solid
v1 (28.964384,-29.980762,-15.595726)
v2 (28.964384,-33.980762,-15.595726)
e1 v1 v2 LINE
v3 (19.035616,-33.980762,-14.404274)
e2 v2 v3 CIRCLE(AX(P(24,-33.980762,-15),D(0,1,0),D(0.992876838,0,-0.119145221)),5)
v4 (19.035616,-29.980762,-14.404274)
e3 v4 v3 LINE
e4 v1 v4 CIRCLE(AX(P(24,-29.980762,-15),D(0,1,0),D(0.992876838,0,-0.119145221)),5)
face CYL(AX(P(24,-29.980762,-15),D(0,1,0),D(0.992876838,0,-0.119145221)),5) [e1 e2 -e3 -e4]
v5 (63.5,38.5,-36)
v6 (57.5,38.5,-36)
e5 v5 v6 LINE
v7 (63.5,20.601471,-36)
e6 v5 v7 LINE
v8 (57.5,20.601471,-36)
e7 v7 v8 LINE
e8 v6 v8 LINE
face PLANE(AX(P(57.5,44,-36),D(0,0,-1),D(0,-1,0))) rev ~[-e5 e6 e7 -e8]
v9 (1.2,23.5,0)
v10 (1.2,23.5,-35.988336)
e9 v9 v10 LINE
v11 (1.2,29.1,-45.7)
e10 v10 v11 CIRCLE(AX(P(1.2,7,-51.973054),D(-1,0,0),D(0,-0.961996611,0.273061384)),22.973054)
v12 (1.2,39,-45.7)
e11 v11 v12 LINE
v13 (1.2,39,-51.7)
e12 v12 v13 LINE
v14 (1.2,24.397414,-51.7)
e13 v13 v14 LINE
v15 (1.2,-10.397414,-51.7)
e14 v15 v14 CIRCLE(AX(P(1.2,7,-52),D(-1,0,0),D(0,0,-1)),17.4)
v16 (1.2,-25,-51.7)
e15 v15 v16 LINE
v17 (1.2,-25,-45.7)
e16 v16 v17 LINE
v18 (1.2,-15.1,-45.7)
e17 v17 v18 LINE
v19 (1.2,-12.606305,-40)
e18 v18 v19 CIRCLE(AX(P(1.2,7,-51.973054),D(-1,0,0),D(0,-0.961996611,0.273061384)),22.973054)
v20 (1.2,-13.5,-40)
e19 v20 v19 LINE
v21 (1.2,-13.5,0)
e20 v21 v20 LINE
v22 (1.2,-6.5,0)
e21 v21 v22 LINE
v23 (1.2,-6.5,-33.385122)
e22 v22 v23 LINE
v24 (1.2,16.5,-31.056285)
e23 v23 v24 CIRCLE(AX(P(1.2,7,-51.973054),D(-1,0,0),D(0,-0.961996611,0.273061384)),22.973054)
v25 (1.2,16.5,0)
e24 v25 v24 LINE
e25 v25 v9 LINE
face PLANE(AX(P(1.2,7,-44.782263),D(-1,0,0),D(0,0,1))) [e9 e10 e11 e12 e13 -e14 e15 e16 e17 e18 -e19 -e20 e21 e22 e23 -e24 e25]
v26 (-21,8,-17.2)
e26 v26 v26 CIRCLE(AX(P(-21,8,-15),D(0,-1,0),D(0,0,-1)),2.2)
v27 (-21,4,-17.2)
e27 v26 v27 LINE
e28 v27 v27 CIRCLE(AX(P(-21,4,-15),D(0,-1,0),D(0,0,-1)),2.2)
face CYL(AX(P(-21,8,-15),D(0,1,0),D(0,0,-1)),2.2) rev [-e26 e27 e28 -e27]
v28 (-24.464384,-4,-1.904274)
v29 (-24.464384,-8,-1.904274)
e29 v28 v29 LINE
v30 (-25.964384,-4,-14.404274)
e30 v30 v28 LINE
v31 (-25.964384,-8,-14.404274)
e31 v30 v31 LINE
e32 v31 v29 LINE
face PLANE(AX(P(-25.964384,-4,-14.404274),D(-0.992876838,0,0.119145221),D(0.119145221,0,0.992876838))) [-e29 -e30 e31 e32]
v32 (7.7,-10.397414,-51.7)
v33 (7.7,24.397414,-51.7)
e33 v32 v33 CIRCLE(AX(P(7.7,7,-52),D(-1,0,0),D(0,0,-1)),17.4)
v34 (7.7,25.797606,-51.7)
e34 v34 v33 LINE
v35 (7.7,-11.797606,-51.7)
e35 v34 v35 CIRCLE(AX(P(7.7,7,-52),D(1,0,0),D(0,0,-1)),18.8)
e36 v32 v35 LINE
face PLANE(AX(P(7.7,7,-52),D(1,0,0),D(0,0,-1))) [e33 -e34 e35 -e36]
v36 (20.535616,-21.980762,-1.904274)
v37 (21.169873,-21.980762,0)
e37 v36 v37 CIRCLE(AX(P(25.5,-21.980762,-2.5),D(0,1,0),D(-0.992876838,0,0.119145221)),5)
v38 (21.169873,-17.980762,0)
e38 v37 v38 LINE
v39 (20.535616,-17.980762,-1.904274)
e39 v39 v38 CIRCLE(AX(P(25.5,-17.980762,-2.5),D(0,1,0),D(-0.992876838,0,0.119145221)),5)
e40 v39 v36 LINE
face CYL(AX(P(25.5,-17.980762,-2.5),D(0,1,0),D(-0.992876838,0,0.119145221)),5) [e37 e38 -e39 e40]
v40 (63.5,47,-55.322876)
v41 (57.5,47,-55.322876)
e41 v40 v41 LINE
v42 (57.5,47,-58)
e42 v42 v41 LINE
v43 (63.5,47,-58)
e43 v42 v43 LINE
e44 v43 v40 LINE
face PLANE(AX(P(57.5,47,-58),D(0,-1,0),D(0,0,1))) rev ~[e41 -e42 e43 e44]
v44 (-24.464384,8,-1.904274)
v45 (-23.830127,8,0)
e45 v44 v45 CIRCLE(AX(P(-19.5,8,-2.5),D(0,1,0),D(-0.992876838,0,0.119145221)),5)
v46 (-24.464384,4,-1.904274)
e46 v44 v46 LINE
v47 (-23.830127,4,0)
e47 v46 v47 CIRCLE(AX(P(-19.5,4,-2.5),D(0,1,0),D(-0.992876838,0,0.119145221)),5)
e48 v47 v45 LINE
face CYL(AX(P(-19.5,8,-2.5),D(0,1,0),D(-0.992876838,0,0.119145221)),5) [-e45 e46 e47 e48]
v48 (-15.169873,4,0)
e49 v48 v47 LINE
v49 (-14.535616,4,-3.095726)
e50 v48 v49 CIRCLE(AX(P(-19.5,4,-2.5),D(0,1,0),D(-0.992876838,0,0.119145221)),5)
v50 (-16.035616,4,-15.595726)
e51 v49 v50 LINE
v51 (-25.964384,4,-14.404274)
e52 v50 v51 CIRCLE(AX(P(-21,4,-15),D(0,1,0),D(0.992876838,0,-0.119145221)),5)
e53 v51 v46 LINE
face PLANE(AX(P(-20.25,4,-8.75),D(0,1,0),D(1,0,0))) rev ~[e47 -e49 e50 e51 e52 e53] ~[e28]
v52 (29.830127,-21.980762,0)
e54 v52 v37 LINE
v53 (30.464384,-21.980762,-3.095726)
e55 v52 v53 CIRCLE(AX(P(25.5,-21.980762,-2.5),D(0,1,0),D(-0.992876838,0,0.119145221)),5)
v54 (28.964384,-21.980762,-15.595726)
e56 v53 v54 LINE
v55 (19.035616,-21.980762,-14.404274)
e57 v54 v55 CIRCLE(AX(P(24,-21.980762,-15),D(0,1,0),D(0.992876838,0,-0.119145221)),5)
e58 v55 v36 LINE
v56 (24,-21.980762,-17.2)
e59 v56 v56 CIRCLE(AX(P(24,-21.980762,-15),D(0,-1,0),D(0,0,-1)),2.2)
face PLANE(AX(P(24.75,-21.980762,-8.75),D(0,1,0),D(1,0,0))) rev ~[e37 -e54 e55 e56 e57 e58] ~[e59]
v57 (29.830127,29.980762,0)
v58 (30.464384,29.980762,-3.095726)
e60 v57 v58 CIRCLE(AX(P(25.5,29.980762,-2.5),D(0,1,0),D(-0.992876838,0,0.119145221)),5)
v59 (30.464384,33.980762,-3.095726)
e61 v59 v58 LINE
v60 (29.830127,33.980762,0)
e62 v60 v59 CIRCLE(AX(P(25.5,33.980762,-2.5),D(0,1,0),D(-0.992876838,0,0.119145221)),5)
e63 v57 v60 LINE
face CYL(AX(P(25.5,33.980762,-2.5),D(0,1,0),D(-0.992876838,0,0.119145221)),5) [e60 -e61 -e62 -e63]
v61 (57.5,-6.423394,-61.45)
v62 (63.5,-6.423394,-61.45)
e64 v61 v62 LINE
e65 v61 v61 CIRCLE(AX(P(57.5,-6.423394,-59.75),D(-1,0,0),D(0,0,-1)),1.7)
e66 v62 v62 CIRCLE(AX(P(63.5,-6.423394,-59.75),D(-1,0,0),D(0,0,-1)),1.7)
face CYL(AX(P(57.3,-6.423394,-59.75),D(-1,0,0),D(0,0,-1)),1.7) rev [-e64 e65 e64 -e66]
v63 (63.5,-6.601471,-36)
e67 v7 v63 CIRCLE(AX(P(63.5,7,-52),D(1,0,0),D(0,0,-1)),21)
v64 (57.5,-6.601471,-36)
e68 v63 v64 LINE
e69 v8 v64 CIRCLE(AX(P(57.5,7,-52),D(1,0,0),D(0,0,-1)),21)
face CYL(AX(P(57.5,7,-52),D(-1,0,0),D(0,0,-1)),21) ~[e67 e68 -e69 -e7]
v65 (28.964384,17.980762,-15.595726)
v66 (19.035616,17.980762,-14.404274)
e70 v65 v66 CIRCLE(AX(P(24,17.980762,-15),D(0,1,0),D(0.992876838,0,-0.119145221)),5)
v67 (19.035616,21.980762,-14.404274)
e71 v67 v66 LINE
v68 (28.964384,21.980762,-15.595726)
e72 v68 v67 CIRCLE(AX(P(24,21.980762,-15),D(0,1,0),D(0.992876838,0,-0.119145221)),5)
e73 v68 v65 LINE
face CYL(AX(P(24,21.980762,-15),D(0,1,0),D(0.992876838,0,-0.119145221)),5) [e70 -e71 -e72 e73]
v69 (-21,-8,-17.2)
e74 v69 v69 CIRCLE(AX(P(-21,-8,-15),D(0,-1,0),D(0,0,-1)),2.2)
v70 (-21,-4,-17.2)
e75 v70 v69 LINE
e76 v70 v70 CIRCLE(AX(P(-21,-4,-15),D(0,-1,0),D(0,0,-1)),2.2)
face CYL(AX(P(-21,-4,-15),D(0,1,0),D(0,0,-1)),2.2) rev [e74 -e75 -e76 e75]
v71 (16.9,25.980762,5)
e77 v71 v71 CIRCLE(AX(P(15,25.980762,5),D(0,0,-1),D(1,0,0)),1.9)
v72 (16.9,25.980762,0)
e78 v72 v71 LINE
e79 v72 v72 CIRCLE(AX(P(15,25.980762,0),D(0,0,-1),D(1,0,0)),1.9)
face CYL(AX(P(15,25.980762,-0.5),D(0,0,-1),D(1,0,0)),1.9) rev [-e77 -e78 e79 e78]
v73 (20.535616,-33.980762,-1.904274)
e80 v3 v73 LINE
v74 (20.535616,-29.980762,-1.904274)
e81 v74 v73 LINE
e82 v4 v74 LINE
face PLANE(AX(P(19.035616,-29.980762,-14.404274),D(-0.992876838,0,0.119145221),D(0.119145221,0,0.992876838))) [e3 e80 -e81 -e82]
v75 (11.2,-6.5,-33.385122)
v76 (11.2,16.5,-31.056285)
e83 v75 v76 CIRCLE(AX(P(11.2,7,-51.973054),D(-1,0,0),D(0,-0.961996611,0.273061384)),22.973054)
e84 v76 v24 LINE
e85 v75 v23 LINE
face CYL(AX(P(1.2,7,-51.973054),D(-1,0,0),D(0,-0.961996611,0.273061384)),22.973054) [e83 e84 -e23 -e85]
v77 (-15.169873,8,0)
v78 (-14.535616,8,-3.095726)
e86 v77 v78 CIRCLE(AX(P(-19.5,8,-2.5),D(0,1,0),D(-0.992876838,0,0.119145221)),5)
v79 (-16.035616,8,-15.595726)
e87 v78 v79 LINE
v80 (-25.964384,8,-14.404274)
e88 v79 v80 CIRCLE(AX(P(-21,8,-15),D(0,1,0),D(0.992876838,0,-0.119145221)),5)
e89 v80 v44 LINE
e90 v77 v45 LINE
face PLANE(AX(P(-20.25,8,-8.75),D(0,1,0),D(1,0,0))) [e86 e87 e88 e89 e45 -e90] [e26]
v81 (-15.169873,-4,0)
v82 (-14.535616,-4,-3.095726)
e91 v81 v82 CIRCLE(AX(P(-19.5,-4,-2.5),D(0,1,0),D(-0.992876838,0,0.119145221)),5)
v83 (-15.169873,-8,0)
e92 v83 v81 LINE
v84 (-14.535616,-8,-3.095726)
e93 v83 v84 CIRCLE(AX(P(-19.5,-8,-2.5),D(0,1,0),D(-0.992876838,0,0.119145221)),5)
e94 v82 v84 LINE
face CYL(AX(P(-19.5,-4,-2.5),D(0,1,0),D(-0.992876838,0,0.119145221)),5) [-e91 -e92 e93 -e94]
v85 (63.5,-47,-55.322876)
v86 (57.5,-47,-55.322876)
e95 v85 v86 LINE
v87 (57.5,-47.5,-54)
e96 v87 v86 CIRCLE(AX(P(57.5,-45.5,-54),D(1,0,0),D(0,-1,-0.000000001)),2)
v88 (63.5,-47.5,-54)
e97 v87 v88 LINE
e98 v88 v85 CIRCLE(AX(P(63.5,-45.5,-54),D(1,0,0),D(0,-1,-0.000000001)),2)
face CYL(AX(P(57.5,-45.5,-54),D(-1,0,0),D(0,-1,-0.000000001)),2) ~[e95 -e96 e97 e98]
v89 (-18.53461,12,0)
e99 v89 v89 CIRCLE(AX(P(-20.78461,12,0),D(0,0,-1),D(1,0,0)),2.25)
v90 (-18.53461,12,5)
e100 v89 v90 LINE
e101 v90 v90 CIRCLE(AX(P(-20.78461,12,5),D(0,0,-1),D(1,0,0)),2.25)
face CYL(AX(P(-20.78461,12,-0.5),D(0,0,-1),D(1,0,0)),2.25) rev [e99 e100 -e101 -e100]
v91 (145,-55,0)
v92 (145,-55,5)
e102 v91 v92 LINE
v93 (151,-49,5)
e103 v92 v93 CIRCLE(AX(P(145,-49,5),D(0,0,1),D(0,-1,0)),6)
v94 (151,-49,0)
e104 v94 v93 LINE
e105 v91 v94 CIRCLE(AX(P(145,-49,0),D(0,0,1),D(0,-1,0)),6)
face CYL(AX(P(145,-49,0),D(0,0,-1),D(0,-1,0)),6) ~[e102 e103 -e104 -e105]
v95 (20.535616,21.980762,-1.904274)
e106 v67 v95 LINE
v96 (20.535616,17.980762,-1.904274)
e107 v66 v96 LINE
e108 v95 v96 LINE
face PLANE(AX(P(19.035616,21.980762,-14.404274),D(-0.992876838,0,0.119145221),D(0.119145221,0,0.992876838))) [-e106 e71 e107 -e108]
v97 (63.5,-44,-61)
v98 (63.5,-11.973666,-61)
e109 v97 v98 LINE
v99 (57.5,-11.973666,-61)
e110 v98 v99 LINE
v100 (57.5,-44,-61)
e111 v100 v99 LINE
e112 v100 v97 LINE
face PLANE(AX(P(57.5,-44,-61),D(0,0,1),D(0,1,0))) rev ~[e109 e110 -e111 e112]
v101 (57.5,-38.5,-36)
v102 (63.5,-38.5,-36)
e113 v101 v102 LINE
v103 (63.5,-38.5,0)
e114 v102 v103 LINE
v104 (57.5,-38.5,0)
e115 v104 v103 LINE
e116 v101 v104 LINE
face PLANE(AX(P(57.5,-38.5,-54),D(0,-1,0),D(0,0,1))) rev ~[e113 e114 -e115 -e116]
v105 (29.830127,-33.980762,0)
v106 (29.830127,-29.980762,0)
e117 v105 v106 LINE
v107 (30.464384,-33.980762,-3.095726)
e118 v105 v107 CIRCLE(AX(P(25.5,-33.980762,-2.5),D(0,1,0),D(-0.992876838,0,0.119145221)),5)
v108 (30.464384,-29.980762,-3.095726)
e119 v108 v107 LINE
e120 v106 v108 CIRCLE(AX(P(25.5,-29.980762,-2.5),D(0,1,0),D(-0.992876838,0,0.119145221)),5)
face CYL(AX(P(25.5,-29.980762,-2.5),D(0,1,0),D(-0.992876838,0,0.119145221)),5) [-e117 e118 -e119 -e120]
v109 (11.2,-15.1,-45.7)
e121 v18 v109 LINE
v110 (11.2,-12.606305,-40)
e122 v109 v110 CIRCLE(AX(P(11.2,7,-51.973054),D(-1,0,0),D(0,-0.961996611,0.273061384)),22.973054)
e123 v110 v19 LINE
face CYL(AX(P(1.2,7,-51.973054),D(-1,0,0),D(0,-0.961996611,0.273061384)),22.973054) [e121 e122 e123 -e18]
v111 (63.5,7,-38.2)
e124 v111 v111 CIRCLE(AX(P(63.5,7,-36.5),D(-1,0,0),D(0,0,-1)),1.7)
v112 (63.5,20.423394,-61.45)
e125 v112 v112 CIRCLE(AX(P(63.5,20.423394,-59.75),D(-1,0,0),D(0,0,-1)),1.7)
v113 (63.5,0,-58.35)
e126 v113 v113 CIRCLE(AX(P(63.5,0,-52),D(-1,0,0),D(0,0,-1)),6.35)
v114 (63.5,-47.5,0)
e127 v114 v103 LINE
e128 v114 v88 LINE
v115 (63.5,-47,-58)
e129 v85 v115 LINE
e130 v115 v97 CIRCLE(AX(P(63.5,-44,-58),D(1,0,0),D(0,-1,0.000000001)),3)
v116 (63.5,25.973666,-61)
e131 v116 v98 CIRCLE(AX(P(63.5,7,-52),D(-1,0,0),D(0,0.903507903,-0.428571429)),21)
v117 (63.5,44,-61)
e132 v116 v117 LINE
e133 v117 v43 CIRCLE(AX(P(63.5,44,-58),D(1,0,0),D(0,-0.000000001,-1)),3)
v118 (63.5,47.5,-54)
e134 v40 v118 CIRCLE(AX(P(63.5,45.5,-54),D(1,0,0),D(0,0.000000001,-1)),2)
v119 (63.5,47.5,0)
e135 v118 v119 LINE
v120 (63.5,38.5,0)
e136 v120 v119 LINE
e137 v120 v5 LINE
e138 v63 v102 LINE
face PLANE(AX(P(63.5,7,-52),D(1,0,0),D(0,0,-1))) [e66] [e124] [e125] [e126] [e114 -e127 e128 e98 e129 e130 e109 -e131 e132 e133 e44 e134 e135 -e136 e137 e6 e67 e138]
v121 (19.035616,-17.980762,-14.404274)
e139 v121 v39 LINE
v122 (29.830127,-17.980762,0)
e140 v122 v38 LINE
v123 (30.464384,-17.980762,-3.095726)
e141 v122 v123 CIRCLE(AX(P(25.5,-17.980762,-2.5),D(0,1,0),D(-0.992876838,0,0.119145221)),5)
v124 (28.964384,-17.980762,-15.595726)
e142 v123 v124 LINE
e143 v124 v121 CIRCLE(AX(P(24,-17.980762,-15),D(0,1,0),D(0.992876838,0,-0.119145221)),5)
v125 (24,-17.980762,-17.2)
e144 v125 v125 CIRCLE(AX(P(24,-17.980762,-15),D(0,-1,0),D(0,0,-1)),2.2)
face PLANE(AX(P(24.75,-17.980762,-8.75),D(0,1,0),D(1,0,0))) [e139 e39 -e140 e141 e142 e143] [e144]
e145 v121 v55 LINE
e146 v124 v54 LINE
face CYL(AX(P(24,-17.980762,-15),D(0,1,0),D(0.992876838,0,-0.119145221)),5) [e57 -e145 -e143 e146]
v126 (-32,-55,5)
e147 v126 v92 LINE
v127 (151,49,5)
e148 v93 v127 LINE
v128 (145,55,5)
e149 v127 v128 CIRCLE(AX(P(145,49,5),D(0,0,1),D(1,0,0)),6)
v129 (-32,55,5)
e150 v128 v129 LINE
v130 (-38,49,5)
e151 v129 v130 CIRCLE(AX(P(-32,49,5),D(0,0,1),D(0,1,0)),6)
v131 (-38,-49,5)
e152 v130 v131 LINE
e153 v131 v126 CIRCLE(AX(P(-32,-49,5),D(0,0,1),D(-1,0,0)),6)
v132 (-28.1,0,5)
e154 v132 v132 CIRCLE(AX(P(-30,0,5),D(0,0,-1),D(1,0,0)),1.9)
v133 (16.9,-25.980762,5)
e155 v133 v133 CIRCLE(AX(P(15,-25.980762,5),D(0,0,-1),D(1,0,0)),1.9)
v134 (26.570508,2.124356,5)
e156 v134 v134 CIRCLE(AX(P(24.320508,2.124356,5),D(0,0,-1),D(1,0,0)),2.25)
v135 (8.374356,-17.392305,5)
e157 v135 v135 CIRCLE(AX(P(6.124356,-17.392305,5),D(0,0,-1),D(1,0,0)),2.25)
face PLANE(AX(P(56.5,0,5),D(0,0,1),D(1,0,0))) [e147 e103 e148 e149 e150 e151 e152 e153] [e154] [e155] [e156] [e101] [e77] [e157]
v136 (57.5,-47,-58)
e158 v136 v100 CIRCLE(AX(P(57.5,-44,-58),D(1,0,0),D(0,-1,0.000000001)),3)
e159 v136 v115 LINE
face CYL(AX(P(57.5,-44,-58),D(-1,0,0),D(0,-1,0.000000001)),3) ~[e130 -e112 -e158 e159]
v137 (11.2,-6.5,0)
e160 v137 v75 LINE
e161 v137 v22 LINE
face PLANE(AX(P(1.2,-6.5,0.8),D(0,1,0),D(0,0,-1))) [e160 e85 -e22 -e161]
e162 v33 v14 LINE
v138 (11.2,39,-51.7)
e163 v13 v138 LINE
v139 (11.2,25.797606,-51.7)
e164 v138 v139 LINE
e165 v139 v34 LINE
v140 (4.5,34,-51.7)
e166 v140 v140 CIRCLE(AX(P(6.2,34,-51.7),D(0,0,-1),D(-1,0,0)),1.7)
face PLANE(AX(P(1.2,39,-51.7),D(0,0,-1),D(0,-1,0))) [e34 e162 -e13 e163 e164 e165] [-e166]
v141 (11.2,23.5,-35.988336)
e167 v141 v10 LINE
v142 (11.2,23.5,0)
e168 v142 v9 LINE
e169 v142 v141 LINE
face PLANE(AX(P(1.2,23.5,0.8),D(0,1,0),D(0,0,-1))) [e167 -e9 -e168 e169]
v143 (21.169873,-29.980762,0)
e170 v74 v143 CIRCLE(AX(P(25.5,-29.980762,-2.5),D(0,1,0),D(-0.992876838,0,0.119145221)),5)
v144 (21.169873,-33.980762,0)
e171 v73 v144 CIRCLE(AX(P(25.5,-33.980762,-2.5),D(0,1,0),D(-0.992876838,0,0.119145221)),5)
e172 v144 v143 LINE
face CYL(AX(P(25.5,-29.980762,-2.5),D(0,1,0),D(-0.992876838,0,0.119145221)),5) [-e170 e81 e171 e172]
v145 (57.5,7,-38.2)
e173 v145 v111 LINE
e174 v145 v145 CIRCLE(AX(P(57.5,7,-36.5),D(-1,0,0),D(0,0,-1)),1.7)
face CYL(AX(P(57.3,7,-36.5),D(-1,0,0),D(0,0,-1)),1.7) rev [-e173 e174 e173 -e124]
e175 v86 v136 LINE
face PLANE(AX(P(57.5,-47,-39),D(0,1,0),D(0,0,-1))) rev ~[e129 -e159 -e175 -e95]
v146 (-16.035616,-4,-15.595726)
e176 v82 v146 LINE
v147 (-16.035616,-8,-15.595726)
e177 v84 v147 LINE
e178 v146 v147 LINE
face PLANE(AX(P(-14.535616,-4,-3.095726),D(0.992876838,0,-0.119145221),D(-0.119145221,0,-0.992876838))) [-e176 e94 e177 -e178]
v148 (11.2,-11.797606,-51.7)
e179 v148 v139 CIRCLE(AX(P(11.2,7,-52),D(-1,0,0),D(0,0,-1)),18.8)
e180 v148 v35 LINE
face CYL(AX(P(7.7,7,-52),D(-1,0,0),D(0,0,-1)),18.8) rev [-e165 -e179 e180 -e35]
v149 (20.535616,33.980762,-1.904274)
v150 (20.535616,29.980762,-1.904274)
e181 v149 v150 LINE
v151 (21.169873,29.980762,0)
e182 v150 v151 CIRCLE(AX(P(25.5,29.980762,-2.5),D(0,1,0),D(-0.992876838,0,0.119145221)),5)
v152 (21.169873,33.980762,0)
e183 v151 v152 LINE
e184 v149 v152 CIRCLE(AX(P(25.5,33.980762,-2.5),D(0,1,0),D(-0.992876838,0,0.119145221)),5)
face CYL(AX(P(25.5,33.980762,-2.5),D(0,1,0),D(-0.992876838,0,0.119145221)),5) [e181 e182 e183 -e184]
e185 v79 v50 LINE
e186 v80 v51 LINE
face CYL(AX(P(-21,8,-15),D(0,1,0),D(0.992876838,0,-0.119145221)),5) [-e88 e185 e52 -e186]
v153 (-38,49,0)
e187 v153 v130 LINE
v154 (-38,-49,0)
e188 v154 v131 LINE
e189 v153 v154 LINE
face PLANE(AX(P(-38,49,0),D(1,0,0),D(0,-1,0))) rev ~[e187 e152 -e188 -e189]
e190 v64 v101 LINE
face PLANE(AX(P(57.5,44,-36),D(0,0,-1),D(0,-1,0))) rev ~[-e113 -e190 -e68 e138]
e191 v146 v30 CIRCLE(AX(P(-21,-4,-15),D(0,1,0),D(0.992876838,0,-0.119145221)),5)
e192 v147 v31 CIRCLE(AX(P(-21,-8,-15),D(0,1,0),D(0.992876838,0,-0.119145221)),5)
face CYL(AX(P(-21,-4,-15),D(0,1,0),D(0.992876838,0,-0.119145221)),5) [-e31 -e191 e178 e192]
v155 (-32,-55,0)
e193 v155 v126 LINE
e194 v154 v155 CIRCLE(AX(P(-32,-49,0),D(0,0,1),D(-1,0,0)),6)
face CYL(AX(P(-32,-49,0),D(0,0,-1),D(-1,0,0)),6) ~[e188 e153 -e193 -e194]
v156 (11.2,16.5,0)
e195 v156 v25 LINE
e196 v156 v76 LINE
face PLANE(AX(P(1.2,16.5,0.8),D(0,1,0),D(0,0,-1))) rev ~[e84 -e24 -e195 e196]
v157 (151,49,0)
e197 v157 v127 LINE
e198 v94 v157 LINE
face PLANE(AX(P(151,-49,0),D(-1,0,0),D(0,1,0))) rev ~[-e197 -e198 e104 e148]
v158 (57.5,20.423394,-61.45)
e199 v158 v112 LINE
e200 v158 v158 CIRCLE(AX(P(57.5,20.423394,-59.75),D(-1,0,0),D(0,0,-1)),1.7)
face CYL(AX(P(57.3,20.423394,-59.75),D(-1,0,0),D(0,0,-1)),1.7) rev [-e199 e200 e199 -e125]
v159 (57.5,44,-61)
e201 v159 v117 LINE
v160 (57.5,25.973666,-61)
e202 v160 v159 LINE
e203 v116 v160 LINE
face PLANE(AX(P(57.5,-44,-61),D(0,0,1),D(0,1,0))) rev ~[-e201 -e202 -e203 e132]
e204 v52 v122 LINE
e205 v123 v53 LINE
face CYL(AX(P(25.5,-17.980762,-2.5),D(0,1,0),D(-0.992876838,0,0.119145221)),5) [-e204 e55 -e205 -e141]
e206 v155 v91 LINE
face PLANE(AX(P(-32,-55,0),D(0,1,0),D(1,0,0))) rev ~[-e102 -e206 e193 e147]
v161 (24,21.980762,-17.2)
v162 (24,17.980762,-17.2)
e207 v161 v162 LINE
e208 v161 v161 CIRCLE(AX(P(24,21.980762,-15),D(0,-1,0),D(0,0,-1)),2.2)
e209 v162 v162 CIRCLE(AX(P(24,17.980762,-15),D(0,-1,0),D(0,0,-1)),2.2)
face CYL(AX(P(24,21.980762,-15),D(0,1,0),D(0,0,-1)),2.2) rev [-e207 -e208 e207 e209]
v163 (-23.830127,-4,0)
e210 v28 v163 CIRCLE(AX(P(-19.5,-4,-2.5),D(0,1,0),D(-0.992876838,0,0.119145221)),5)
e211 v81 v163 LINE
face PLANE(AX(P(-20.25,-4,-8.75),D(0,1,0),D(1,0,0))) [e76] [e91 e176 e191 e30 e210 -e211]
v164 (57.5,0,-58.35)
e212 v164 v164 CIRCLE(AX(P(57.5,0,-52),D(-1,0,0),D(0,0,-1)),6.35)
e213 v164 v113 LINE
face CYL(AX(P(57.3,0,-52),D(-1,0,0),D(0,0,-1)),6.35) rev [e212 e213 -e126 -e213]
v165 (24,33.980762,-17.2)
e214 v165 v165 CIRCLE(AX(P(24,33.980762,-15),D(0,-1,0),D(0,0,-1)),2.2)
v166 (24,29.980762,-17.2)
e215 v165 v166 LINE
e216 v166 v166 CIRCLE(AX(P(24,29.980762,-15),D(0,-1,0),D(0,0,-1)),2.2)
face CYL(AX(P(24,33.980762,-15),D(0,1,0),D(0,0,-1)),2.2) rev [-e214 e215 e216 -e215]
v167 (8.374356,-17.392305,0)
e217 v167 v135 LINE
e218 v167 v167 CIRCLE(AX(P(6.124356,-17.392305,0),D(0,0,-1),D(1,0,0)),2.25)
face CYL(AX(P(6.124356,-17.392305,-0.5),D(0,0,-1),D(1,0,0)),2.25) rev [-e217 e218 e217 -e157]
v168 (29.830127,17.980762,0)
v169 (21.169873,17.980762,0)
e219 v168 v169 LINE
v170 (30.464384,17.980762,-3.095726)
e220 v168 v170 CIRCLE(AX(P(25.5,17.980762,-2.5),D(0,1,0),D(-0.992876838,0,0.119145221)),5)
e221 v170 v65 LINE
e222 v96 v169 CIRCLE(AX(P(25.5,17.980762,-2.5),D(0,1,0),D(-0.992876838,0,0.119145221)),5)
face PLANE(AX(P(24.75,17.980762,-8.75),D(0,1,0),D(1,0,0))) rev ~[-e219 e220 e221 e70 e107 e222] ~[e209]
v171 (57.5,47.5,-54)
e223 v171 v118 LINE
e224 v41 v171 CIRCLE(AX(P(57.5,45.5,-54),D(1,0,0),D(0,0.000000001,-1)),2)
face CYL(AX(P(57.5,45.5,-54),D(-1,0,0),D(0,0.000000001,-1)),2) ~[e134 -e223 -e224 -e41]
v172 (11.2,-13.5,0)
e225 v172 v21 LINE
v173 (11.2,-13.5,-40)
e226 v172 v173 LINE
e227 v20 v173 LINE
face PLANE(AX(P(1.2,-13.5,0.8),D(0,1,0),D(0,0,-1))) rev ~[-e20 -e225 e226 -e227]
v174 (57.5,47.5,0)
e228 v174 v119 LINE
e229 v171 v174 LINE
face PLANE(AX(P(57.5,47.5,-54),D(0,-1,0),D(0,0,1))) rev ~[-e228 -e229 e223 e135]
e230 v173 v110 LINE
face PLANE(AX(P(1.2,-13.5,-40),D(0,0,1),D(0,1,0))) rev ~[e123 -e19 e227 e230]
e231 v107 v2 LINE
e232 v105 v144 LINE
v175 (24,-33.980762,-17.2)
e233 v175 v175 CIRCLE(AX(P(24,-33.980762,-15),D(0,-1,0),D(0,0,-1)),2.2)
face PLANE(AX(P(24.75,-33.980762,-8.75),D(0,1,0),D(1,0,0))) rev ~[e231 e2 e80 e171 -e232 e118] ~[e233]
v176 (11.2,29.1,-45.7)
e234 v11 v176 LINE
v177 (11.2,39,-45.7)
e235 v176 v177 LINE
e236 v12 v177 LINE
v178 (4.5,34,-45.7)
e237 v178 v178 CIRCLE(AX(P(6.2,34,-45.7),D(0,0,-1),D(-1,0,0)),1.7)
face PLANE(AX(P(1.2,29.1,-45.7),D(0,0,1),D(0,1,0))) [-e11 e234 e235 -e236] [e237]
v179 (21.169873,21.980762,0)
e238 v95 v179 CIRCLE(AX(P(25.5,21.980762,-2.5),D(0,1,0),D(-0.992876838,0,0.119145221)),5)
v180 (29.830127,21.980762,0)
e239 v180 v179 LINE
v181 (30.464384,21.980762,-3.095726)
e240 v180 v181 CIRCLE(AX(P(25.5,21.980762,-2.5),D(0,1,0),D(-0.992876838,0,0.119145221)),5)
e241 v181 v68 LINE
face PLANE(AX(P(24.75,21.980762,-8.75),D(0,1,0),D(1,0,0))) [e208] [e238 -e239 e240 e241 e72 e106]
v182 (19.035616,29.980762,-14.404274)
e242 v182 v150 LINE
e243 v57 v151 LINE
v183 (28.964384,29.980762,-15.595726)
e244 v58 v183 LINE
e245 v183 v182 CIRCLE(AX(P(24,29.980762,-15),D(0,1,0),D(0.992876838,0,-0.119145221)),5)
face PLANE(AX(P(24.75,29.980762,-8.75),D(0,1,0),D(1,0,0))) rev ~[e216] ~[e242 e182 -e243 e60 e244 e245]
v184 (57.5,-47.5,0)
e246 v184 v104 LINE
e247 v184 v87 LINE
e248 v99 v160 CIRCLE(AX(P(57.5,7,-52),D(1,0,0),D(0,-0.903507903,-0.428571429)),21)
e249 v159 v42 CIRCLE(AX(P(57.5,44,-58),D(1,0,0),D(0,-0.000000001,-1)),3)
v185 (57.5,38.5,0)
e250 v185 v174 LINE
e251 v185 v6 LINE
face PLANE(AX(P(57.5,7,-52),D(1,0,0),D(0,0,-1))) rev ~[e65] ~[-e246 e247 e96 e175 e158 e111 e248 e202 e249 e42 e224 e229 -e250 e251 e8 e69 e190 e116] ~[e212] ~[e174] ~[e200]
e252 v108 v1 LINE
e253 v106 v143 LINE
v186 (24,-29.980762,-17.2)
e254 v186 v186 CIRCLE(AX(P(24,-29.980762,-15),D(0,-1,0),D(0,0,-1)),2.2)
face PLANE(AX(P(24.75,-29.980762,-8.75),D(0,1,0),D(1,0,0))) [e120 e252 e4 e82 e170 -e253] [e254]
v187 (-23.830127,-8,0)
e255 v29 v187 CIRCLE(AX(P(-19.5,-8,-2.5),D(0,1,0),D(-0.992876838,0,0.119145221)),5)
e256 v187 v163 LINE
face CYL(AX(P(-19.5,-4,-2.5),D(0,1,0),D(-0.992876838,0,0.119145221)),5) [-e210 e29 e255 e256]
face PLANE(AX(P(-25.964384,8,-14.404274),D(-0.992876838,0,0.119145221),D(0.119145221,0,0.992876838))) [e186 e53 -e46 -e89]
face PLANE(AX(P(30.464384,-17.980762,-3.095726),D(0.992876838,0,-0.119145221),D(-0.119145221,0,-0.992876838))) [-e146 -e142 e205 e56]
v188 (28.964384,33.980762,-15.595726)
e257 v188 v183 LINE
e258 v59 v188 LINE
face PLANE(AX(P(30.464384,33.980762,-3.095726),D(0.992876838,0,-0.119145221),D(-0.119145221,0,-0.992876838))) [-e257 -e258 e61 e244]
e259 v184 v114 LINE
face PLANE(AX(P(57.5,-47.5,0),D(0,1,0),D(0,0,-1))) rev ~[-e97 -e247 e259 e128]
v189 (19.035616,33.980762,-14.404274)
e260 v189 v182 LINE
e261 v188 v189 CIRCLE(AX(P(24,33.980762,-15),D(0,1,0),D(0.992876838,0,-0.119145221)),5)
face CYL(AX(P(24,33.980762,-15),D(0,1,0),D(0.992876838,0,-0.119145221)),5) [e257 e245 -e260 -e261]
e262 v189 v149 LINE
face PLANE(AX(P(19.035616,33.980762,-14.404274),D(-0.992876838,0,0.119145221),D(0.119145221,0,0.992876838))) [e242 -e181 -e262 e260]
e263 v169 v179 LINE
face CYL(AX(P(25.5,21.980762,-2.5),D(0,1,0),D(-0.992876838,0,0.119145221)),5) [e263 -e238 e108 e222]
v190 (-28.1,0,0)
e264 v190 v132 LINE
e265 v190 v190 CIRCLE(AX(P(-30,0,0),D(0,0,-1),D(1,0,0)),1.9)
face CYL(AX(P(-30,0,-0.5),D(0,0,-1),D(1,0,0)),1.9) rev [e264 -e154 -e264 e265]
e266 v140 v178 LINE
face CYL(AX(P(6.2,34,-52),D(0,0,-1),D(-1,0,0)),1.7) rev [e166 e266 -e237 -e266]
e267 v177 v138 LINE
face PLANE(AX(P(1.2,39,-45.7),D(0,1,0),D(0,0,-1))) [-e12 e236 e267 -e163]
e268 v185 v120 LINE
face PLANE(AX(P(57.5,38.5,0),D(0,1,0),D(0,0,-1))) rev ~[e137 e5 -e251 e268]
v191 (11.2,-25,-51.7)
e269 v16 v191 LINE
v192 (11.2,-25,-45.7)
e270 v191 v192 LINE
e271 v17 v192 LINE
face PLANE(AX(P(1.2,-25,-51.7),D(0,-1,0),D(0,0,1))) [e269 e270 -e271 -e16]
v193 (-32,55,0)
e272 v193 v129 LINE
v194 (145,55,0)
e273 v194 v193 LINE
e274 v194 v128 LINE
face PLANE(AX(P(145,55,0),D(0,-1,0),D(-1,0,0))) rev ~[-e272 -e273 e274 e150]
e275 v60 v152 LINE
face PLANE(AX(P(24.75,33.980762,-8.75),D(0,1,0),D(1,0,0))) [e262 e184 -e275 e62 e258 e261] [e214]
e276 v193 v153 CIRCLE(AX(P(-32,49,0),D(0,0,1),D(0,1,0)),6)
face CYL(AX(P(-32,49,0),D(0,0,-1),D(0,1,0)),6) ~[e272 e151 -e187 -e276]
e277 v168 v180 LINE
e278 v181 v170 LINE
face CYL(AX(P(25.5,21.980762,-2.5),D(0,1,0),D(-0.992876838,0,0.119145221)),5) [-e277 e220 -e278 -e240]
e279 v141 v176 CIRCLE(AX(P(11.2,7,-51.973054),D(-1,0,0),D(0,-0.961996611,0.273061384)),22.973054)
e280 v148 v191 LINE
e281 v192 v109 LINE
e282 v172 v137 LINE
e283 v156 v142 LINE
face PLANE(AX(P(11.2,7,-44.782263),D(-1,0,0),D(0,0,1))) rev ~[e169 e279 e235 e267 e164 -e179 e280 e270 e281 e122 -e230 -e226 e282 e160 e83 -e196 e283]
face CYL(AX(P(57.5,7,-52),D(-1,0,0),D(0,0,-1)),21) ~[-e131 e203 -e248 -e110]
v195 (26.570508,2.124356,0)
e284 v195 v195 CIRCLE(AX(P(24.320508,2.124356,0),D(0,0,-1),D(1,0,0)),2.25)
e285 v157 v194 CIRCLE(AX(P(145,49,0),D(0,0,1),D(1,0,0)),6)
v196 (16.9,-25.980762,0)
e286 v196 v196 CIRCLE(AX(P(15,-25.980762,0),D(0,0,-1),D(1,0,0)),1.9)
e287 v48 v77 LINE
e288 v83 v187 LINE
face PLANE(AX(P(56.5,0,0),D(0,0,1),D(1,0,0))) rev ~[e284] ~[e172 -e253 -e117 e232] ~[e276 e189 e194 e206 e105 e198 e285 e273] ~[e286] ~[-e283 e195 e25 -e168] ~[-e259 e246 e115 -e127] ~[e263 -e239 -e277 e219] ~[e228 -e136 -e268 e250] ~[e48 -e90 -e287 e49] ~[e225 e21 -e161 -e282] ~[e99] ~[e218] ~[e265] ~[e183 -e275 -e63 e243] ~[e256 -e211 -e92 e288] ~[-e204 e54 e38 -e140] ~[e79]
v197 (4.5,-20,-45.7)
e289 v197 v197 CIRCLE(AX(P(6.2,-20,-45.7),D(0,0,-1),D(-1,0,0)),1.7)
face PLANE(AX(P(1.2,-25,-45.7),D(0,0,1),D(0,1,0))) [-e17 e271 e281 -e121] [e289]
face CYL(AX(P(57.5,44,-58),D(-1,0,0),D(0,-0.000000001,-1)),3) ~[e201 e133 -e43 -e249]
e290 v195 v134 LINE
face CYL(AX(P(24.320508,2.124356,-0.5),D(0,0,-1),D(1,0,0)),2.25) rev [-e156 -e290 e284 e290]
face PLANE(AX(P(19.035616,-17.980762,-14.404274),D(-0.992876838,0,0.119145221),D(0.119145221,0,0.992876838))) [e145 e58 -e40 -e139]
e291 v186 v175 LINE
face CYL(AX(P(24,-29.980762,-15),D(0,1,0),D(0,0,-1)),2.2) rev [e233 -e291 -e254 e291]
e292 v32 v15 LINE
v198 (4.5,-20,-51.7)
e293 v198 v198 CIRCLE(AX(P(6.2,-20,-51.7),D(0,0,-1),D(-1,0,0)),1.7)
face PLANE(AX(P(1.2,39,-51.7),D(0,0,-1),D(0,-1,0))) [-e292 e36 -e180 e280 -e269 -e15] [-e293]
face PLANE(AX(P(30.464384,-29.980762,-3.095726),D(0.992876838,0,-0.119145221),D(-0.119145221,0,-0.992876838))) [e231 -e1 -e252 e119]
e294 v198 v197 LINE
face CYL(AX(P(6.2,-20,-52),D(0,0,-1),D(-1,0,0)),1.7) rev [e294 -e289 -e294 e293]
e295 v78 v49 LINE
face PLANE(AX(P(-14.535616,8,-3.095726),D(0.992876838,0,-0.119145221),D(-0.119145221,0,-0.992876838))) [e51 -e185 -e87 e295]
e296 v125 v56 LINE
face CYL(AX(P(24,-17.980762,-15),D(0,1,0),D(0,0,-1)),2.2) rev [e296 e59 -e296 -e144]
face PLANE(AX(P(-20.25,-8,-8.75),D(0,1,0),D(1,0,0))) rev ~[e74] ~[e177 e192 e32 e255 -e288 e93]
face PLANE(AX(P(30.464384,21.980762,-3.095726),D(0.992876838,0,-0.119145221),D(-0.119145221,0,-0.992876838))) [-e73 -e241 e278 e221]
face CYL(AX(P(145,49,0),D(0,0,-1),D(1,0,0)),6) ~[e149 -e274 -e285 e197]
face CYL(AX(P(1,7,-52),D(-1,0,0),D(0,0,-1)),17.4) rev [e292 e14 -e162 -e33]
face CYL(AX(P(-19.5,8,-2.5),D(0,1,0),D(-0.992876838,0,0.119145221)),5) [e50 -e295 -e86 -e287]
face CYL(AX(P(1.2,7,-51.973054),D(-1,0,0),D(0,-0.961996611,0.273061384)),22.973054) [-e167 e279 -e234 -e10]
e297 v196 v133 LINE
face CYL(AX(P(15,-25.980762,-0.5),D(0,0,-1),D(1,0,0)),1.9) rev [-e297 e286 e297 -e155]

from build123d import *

# Parameters (mm, degrees)
F_01_SOLID_CASSETTE_DECK_DEPTH                 = 5
F_02_START                                     = -0.5
S02_THREE_MODULE_ATTACHMENT_HOLES_R            = 2.25
F_02_THREE_MODULE_ATTACHMENT_HOLES_DEPTH       = 6
F_03_START                                     = -0.5
S03_THREE_TENDON_PASSAGES_R                    = 1.9
F_03_THREE_TENDON_PASSAGES_DEPTH               = 6
F_04_START                                     = 29.980762114
S04_SHEAVE_1_INTEGRAL_CHEEK_1_R                = 2.2
F_04_SHEAVE_1_INTEGRAL_CHEEK_1_DEPTH           = 4
F_05_START                                     = 17.980762114
S05_SHEAVE_1_INTEGRAL_CHEEK_2_R                = 2.2
F_05_SHEAVE_1_INTEGRAL_CHEEK_2_DEPTH           = 4
F_06_START                                     = -21.980762114
S06_SHEAVE_2_INTEGRAL_CHEEK_1_R                = 2.2
F_06_SHEAVE_2_INTEGRAL_CHEEK_1_DEPTH           = 4
F_07_START                                     = -33.980762114
S07_SHEAVE_2_INTEGRAL_CHEEK_2_R                = 2.2
F_07_SHEAVE_2_INTEGRAL_CHEEK_2_DEPTH           = 4
F_08_START                                     = 4
S08_SHEAVE_3_INTEGRAL_CHEEK_1_R                = 2.2
F_08_SHEAVE_3_INTEGRAL_CHEEK_1_DEPTH           = 4
F_09_START                                     = -8
S09_SHEAVE_3_INTEGRAL_CHEEK_2_R                = 2.2
F_09_SHEAVE_3_INTEGRAL_CHEEK_2_DEPTH           = 4
F_10_START                                     = 57.5
F_10_OUTER_MOTOR_SUPPORT_43_DEPTH              = 6
F_11_START                                     = 57.5
F_11_OUTER_MOTOR_SUPPORT_43_DEPTH              = 6
F_12_START                                     = 57.5
F_12_MOTOR_FLANGE_CROSSMEMBER_BELOW_CORD_DEPTH = 6
F_13_START                                     = 57.5
S13_37D_FLANGE_BEARING_LAND_R                  = 21
F_13_37D_FLANGE_BEARING_LAND_DEPTH             = 6
F_14_START                                     = 57.3
S14_37D_PILOT_AND_THREE_M3_FACE_HOLES_R        = 6.35
S14_37D_PILOT_AND_THREE_M3_FACE_HOLES_R_2      = 1.7
F_14_37D_PILOT_AND_THREE_M3_FACE_HOLES_DEPTH   = 6.4
F_15_START                                     = 1.2
S15_REAR_MOTOR_CRADLE_ROOT_1_W                 = 40.8
S15_REAR_MOTOR_CRADLE_ROOT_1_H                 = 7
F_15_REAR_MOTOR_CRADLE_ROOT_1_DEPTH            = 10
F_16_START                                     = 1.2
S16_REAR_MOTOR_CRADLE_ROOT_2_W                 = 40.8
S16_REAR_MOTOR_CRADLE_ROOT_2_H                 = 7
F_16_REAR_MOTOR_CRADLE_ROOT_2_DEPTH            = 10
F_17_START                                     = 1.2
F_17_INTEGRAL_REAR_MOTOR_SADDLE_DEPTH          = 10
F_18_START                                     = 1
S18_37D_REAR_CAN_SUPPORT_R                     = 17.4
F_18_37D_REAR_CAN_SUPPORT_DEPTH                = 10.4
F_19_START                                     = 7.7
S19_LEAD_IN_CLEARANCE_FOR_GEARBOX_INST_R       = 18.8
F_19_LEAD_IN_CLEARANCE_FOR_GEARBOX_INSTA_DEPTH = 3.7
F_20_START                                     = -52
S20_MOTOR_SADDLE_CLAMP_SCREW_HOLES_R           = 1.7
F_20_MOTOR_SADDLE_CLAMP_SCREW_HOLES_DEPTH      = 7


with BuildPart() as part:
    # S01 - Solid cassette deck → 01 - Solid cassette deck (new body)
    with BuildSketch(Plane.XY):
        with BuildLine():
            Line((-32, -55), (145, -55))
            ThreePointArc((145, -55), (149.242640687, -53.242640687), (151, -49))
            Line((151, -49), (151, 49))
            ThreePointArc((151, 49), (149.242640687, 53.242640687), (145, 55))
            Line((145, 55), (-32, 55))
            ThreePointArc((-32, 55), (-36.242640687, 53.242640687), (-38, 49))
            Line((-38, 49), (-38, -49))
            ThreePointArc((-38, -49), (-36.242640687, -53.242640687), (-32, -55))
        make_face()
    extrude(amount=F_01_SOLID_CASSETTE_DECK_DEPTH)

    # S02 - Three module attachment holes → 02 - Three module attachment holes (cut)
    with BuildSketch(Plane.XY.offset(F_02_START)):
        with Locations((6.124355653, -17.392304845)):
            Circle(S02_THREE_MODULE_ATTACHMENT_HOLES_R)
        with Locations((24.320508076, 2.124355653)):
            Circle(S02_THREE_MODULE_ATTACHMENT_HOLES_R)
        with Locations((-20.784609691, 12)):
            Circle(S02_THREE_MODULE_ATTACHMENT_HOLES_R)
    extrude(amount=F_02_THREE_MODULE_ATTACHMENT_HOLES_DEPTH, mode=Mode.SUBTRACT)

    # S03 - Three tendon passages → 03 - Three tendon passages (cut)
    with BuildSketch(Plane.XY.offset(F_03_START)):
        with Locations((15, -25.980762114)):
            Circle(S03_THREE_TENDON_PASSAGES_R)
        with Locations((15, 25.980762114)):
            Circle(S03_THREE_TENDON_PASSAGES_R)
        with Locations((-30, 0)):
            Circle(S03_THREE_TENDON_PASSAGES_R)
    extrude(amount=F_03_THREE_TENDON_PASSAGES_DEPTH, mode=Mode.SUBTRACT)

    # S04 - Sheave 1 integral cheek 1 → 04 - Sheave 1 integral cheek 1 (add)
    with BuildSketch(Plane(origin=(0, 0, 0), x_dir=(-1, 0, 0), z_dir=(0, -1, 0)).offset(F_04_START)):
        with BuildLine():
            Line((-19.035615808, 14.404273897), (-20.535615808, 1.904273897))
            ThreePointArc((-20.535615808, 1.904273897), (-26.095726103, -2.464384192), (-30.464384192, 3.095726103))
            Line((-30.464384192, 3.095726103), (-28.964384192, 15.595726103))
            ThreePointArc((-28.964384192, 15.595726103), (-23.404273897, 19.964384192), (-19.035615808, 14.404273897))
        make_face()
        with Locations((-24, 15)):
            Circle(S04_SHEAVE_1_INTEGRAL_CHEEK_1_R, mode=Mode.SUBTRACT)
    extrude(amount=F_04_SHEAVE_1_INTEGRAL_CHEEK_1_DEPTH)

    # S05 - Sheave 1 integral cheek 2 → 05 - Sheave 1 integral cheek 2 (add)
    with BuildSketch(Plane(origin=(0, 0, 0), x_dir=(-1, 0, 0), z_dir=(0, -1, 0)).offset(F_05_START)):
        with BuildLine():
            Line((-19.035615808, 14.404273897), (-20.535615808, 1.904273897))
            ThreePointArc((-20.535615808, 1.904273897), (-26.095726103, -2.464384192), (-30.464384192, 3.095726103))
            Line((-30.464384192, 3.095726103), (-28.964384192, 15.595726103))
            ThreePointArc((-28.964384192, 15.595726103), (-23.404273897, 19.964384192), (-19.035615808, 14.404273897))
        make_face()
        with Locations((-24, 15)):
            Circle(S05_SHEAVE_1_INTEGRAL_CHEEK_2_R, mode=Mode.SUBTRACT)
    extrude(amount=F_05_SHEAVE_1_INTEGRAL_CHEEK_2_DEPTH)

    # S06 - Sheave 2 integral cheek 1 → 06 - Sheave 2 integral cheek 1 (add)
    with BuildSketch(Plane(origin=(0, 0, 0), x_dir=(-1, 0, 0), z_dir=(0, -1, 0)).offset(F_06_START)):
        with BuildLine():
            Line((-19.035615808, 14.404273897), (-20.535615808, 1.904273897))
            ThreePointArc((-20.535615808, 1.904273897), (-26.095726103, -2.464384192), (-30.464384192, 3.095726103))
            Line((-30.464384192, 3.095726103), (-28.964384192, 15.595726103))
            ThreePointArc((-28.964384192, 15.595726103), (-23.404273897, 19.964384192), (-19.035615808, 14.404273897))
        make_face()
        with Locations((-24, 15)):
            Circle(S06_SHEAVE_2_INTEGRAL_CHEEK_1_R, mode=Mode.SUBTRACT)
    extrude(amount=F_06_SHEAVE_2_INTEGRAL_CHEEK_1_DEPTH)

    # S07 - Sheave 2 integral cheek 2 → 07 - Sheave 2 integral cheek 2 (add)
    with BuildSketch(Plane(origin=(0, 0, 0), x_dir=(-1, 0, 0), z_dir=(0, -1, 0)).offset(F_07_START)):
        with BuildLine():
            Line((-19.035615808, 14.404273897), (-20.535615808, 1.904273897))
            ThreePointArc((-20.535615808, 1.904273897), (-26.095726103, -2.464384192), (-30.464384192, 3.095726103))
            Line((-30.464384192, 3.095726103), (-28.964384192, 15.595726103))
            ThreePointArc((-28.964384192, 15.595726103), (-23.404273897, 19.964384192), (-19.035615808, 14.404273897))
        make_face()
        with Locations((-24, 15)):
            Circle(S07_SHEAVE_2_INTEGRAL_CHEEK_2_R, mode=Mode.SUBTRACT)
    extrude(amount=F_07_SHEAVE_2_INTEGRAL_CHEEK_2_DEPTH)

    # S08 - Sheave 3 integral cheek 1 → 08 - Sheave 3 integral cheek 1 (add)
    with BuildSketch(Plane(origin=(0, 0, 0), x_dir=(-1, 0, 0), z_dir=(0, -1, 0)).offset(F_08_START)):
        with BuildLine():
            Line((25.964384192, 14.404273897), (24.464384192, 1.904273897))
            ThreePointArc((24.464384192, 1.904273897), (18.904273897, -2.464384192), (14.535615808, 3.095726103))
            Line((14.535615808, 3.095726103), (16.035615808, 15.595726103))
            ThreePointArc((16.035615808, 15.595726103), (21.595726103, 19.964384192), (25.964384192, 14.404273897))
        make_face()
        with Locations((21, 15)):
            Circle(S08_SHEAVE_3_INTEGRAL_CHEEK_1_R, mode=Mode.SUBTRACT)
    extrude(amount=F_08_SHEAVE_3_INTEGRAL_CHEEK_1_DEPTH)

    # S09 - Sheave 3 integral cheek 2 → 09 - Sheave 3 integral cheek 2 (add)
    with BuildSketch(Plane(origin=(0, 0, 0), x_dir=(-1, 0, 0), z_dir=(0, -1, 0)).offset(F_09_START)):
        with BuildLine():
            Line((25.964384192, 14.404273897), (24.464384192, 1.904273897))
            ThreePointArc((24.464384192, 1.904273897), (18.904273897, -2.464384192), (14.535615808, 3.095726103))
            Line((14.535615808, 3.095726103), (16.035615808, 15.595726103))
            ThreePointArc((16.035615808, 15.595726103), (21.595726103, 19.964384192), (25.964384192, 14.404273897))
        make_face()
        with Locations((21, 15)):
            Circle(S09_SHEAVE_3_INTEGRAL_CHEEK_2_R, mode=Mode.SUBTRACT)
    extrude(amount=F_09_SHEAVE_3_INTEGRAL_CHEEK_2_DEPTH)

    # S10 - Outer motor support -43 → 10 - Outer motor support -43 (add)
    with BuildSketch(Plane(origin=(0, 0, 0), x_dir=(0, 0, -1), z_dir=(1, 0, 0)).offset(F_10_START)):
        with BuildLine():
            Line((56, -45.5), (56, -40.5))
            ThreePointArc((56, -40.5), (55.414213562, -39.085786438), (54, -38.5))
            Line((54, -38.5), (0, -38.5))
            ThreePointArc((0, -38.5), (-1.414213562, -39.085786438), (-2, -40.5))
            Line((-2, -40.5), (-2, -45.5))
            ThreePointArc((-2, -45.5), (-1.414213562, -46.914213562), (0, -47.5))
            Line((0, -47.5), (54, -47.5))
            ThreePointArc((54, -47.5), (55.414213562, -46.914213562), (56, -45.5))
        make_face()
    extrude(amount=F_10_OUTER_MOTOR_SUPPORT_43_DEPTH)

    # S11 - Outer motor support 43 → 11 - Outer motor support 43 (add)
    with BuildSketch(Plane(origin=(0, 0, 0), x_dir=(0, 0, -1), z_dir=(1, 0, 0)).offset(F_11_START)):
        with BuildLine():
            Line((56, 40.5), (56, 45.5))
            ThreePointArc((56, 45.5), (55.414213562, 46.914213562), (54, 47.5))
            Line((54, 47.5), (0, 47.5))
            ThreePointArc((0, 47.5), (-1.414213562, 46.914213562), (-2, 45.5))
            Line((-2, 45.5), (-2, 40.5))
            ThreePointArc((-2, 40.5), (-1.414213562, 39.085786438), (0, 38.5))
            Line((0, 38.5), (54, 38.5))
            ThreePointArc((54, 38.5), (55.414213562, 39.085786438), (56, 40.5))
        make_face()
    extrude(amount=F_11_OUTER_MOTOR_SUPPORT_43_DEPTH)

    # S12 - Motor flange crossmember below cords → 12 - Motor flange crossmember below cords (add)
    with BuildSketch(Plane(origin=(0, 0, 0), x_dir=(0, 0, -1), z_dir=(1, 0, 0)).offset(F_12_START)):
        with BuildLine():
            Line((61, -44), (61, 44))
            ThreePointArc((61, 44), (60.121320344, 46.121320344), (58, 47))
            Line((58, 47), (39, 47))
            ThreePointArc((39, 47), (36.878679656, 46.121320344), (36, 44))
            Line((36, 44), (36, -44))
            ThreePointArc((36, -44), (36.878679656, -46.121320344), (39, -47))
            Line((39, -47), (58, -47))
            ThreePointArc((58, -47), (60.121320344, -46.121320344), (61, -44))
        make_face()
    extrude(amount=F_12_MOTOR_FLANGE_CROSSMEMBER_BELOW_CORD_DEPTH)

    # S13 - 37D flange bearing land → 13 - 37D flange bearing land (add)
    with BuildSketch(Plane(origin=(0, 0, 0), x_dir=(0, 0, -1), z_dir=(1, 0, 0)).offset(F_13_START)):
        with Locations((52, 7)):
            Circle(S13_37D_FLANGE_BEARING_LAND_R)
    extrude(amount=F_13_37D_FLANGE_BEARING_LAND_DEPTH)

    # S14 - 37D pilot and three M3 face holes → 14 - 37D pilot and three M3 face holes (cut)
    with BuildSketch(Plane(origin=(0, 0, 0), x_dir=(0, 0, -1), z_dir=(1, 0, 0)).offset(F_14_START)):
        with Locations((52, 0)):
            Circle(S14_37D_PILOT_AND_THREE_M3_FACE_HOLES_R)
        with Locations((36.5, 7)):
            Circle(S14_37D_PILOT_AND_THREE_M3_FACE_HOLES_R_2)
        with Locations((59.75, -6.423393759)):
            Circle(S14_37D_PILOT_AND_THREE_M3_FACE_HOLES_R_2)
        with Locations((59.75, 20.423393759)):
            Circle(S14_37D_PILOT_AND_THREE_M3_FACE_HOLES_R_2)
    extrude(amount=F_14_37D_PILOT_AND_THREE_M3_FACE_HOLES_DEPTH, mode=Mode.SUBTRACT)

    # S15 - Rear motor cradle root 1 → 15 - Rear motor cradle root 1 (add)
    with BuildSketch(Plane(origin=(0, 0, 0), x_dir=(0, 0, -1), z_dir=(1, 0, 0)).offset(F_15_START)):
        with Locations((19.6, -10)):
            Rectangle(S15_REAR_MOTOR_CRADLE_ROOT_1_W, S15_REAR_MOTOR_CRADLE_ROOT_1_H)
    extrude(amount=F_15_REAR_MOTOR_CRADLE_ROOT_1_DEPTH)

    # S16 - Rear motor cradle root 2 → 16 - Rear motor cradle root 2 (add)
    with BuildSketch(Plane(origin=(0, 0, 0), x_dir=(0, 0, -1), z_dir=(1, 0, 0)).offset(F_16_START)):
        with Locations((19.6, 20)):
            Rectangle(S16_REAR_MOTOR_CRADLE_ROOT_2_W, S16_REAR_MOTOR_CRADLE_ROOT_2_H)
    extrude(amount=F_16_REAR_MOTOR_CRADLE_ROOT_2_DEPTH)

    # S17 - Integral rear motor saddle → 17 - Integral rear motor saddle (add)
    with BuildSketch(Plane(origin=(0, 0, 0), x_dir=(0, 0, -1), z_dir=(1, 0, 0)).offset(F_17_START)):
        with BuildLine():
            Line((51.7, -25), (45.7, -25))
            Line((45.7, -25), (45.7, -15.1))
            ThreePointArc((45.7, -15.1), (29, 7), (45.7, 29.1))
            Line((45.7, 29.1), (45.7, 39))
            Line((45.7, 39), (51.7, 39))
            Line((51.7, 39), (51.7, -25))
        make_face()
    extrude(amount=F_17_INTEGRAL_REAR_MOTOR_SADDLE_DEPTH)

    # S18 - 37D rear can support → 18 - 37D rear can support (cut)
    with BuildSketch(Plane(origin=(0, 0, 0), x_dir=(0, 0, -1), z_dir=(1, 0, 0)).offset(F_18_START)):
        with Locations((52, 7)):
            Circle(S18_37D_REAR_CAN_SUPPORT_R)
    extrude(amount=F_18_37D_REAR_CAN_SUPPORT_DEPTH, mode=Mode.SUBTRACT)

    # S19 - Lead-in clearance for gearbox installation → 19 - Lead-in clearance for gearbox installation (cut)
    with BuildSketch(Plane(origin=(0, 0, 0), x_dir=(0, 0, -1), z_dir=(1, 0, 0)).offset(F_19_START)):
        with Locations((52, 7)):
            Circle(S19_LEAD_IN_CLEARANCE_FOR_GEARBOX_INST_R)
    extrude(amount=F_19_LEAD_IN_CLEARANCE_FOR_GEARBOX_INSTA_DEPTH, mode=Mode.SUBTRACT)

    # S20 - Motor saddle clamp screw holes → 20 - Motor saddle clamp screw holes (cut)
    with BuildSketch(Plane.XY.offset(F_20_START)):
        with Locations((6.2, -20)):
            Circle(S20_MOTOR_SADDLE_CLAMP_SCREW_HOLES_R)
        with Locations((6.2, 34)):
            Circle(S20_MOTOR_SADDLE_CLAMP_SCREW_HOLES_R)
    extrude(amount=F_20_MOTOR_SADDLE_CLAMP_SCREW_HOLES_DEPTH, mode=Mode.SUBTRACT)


solid = part.part
